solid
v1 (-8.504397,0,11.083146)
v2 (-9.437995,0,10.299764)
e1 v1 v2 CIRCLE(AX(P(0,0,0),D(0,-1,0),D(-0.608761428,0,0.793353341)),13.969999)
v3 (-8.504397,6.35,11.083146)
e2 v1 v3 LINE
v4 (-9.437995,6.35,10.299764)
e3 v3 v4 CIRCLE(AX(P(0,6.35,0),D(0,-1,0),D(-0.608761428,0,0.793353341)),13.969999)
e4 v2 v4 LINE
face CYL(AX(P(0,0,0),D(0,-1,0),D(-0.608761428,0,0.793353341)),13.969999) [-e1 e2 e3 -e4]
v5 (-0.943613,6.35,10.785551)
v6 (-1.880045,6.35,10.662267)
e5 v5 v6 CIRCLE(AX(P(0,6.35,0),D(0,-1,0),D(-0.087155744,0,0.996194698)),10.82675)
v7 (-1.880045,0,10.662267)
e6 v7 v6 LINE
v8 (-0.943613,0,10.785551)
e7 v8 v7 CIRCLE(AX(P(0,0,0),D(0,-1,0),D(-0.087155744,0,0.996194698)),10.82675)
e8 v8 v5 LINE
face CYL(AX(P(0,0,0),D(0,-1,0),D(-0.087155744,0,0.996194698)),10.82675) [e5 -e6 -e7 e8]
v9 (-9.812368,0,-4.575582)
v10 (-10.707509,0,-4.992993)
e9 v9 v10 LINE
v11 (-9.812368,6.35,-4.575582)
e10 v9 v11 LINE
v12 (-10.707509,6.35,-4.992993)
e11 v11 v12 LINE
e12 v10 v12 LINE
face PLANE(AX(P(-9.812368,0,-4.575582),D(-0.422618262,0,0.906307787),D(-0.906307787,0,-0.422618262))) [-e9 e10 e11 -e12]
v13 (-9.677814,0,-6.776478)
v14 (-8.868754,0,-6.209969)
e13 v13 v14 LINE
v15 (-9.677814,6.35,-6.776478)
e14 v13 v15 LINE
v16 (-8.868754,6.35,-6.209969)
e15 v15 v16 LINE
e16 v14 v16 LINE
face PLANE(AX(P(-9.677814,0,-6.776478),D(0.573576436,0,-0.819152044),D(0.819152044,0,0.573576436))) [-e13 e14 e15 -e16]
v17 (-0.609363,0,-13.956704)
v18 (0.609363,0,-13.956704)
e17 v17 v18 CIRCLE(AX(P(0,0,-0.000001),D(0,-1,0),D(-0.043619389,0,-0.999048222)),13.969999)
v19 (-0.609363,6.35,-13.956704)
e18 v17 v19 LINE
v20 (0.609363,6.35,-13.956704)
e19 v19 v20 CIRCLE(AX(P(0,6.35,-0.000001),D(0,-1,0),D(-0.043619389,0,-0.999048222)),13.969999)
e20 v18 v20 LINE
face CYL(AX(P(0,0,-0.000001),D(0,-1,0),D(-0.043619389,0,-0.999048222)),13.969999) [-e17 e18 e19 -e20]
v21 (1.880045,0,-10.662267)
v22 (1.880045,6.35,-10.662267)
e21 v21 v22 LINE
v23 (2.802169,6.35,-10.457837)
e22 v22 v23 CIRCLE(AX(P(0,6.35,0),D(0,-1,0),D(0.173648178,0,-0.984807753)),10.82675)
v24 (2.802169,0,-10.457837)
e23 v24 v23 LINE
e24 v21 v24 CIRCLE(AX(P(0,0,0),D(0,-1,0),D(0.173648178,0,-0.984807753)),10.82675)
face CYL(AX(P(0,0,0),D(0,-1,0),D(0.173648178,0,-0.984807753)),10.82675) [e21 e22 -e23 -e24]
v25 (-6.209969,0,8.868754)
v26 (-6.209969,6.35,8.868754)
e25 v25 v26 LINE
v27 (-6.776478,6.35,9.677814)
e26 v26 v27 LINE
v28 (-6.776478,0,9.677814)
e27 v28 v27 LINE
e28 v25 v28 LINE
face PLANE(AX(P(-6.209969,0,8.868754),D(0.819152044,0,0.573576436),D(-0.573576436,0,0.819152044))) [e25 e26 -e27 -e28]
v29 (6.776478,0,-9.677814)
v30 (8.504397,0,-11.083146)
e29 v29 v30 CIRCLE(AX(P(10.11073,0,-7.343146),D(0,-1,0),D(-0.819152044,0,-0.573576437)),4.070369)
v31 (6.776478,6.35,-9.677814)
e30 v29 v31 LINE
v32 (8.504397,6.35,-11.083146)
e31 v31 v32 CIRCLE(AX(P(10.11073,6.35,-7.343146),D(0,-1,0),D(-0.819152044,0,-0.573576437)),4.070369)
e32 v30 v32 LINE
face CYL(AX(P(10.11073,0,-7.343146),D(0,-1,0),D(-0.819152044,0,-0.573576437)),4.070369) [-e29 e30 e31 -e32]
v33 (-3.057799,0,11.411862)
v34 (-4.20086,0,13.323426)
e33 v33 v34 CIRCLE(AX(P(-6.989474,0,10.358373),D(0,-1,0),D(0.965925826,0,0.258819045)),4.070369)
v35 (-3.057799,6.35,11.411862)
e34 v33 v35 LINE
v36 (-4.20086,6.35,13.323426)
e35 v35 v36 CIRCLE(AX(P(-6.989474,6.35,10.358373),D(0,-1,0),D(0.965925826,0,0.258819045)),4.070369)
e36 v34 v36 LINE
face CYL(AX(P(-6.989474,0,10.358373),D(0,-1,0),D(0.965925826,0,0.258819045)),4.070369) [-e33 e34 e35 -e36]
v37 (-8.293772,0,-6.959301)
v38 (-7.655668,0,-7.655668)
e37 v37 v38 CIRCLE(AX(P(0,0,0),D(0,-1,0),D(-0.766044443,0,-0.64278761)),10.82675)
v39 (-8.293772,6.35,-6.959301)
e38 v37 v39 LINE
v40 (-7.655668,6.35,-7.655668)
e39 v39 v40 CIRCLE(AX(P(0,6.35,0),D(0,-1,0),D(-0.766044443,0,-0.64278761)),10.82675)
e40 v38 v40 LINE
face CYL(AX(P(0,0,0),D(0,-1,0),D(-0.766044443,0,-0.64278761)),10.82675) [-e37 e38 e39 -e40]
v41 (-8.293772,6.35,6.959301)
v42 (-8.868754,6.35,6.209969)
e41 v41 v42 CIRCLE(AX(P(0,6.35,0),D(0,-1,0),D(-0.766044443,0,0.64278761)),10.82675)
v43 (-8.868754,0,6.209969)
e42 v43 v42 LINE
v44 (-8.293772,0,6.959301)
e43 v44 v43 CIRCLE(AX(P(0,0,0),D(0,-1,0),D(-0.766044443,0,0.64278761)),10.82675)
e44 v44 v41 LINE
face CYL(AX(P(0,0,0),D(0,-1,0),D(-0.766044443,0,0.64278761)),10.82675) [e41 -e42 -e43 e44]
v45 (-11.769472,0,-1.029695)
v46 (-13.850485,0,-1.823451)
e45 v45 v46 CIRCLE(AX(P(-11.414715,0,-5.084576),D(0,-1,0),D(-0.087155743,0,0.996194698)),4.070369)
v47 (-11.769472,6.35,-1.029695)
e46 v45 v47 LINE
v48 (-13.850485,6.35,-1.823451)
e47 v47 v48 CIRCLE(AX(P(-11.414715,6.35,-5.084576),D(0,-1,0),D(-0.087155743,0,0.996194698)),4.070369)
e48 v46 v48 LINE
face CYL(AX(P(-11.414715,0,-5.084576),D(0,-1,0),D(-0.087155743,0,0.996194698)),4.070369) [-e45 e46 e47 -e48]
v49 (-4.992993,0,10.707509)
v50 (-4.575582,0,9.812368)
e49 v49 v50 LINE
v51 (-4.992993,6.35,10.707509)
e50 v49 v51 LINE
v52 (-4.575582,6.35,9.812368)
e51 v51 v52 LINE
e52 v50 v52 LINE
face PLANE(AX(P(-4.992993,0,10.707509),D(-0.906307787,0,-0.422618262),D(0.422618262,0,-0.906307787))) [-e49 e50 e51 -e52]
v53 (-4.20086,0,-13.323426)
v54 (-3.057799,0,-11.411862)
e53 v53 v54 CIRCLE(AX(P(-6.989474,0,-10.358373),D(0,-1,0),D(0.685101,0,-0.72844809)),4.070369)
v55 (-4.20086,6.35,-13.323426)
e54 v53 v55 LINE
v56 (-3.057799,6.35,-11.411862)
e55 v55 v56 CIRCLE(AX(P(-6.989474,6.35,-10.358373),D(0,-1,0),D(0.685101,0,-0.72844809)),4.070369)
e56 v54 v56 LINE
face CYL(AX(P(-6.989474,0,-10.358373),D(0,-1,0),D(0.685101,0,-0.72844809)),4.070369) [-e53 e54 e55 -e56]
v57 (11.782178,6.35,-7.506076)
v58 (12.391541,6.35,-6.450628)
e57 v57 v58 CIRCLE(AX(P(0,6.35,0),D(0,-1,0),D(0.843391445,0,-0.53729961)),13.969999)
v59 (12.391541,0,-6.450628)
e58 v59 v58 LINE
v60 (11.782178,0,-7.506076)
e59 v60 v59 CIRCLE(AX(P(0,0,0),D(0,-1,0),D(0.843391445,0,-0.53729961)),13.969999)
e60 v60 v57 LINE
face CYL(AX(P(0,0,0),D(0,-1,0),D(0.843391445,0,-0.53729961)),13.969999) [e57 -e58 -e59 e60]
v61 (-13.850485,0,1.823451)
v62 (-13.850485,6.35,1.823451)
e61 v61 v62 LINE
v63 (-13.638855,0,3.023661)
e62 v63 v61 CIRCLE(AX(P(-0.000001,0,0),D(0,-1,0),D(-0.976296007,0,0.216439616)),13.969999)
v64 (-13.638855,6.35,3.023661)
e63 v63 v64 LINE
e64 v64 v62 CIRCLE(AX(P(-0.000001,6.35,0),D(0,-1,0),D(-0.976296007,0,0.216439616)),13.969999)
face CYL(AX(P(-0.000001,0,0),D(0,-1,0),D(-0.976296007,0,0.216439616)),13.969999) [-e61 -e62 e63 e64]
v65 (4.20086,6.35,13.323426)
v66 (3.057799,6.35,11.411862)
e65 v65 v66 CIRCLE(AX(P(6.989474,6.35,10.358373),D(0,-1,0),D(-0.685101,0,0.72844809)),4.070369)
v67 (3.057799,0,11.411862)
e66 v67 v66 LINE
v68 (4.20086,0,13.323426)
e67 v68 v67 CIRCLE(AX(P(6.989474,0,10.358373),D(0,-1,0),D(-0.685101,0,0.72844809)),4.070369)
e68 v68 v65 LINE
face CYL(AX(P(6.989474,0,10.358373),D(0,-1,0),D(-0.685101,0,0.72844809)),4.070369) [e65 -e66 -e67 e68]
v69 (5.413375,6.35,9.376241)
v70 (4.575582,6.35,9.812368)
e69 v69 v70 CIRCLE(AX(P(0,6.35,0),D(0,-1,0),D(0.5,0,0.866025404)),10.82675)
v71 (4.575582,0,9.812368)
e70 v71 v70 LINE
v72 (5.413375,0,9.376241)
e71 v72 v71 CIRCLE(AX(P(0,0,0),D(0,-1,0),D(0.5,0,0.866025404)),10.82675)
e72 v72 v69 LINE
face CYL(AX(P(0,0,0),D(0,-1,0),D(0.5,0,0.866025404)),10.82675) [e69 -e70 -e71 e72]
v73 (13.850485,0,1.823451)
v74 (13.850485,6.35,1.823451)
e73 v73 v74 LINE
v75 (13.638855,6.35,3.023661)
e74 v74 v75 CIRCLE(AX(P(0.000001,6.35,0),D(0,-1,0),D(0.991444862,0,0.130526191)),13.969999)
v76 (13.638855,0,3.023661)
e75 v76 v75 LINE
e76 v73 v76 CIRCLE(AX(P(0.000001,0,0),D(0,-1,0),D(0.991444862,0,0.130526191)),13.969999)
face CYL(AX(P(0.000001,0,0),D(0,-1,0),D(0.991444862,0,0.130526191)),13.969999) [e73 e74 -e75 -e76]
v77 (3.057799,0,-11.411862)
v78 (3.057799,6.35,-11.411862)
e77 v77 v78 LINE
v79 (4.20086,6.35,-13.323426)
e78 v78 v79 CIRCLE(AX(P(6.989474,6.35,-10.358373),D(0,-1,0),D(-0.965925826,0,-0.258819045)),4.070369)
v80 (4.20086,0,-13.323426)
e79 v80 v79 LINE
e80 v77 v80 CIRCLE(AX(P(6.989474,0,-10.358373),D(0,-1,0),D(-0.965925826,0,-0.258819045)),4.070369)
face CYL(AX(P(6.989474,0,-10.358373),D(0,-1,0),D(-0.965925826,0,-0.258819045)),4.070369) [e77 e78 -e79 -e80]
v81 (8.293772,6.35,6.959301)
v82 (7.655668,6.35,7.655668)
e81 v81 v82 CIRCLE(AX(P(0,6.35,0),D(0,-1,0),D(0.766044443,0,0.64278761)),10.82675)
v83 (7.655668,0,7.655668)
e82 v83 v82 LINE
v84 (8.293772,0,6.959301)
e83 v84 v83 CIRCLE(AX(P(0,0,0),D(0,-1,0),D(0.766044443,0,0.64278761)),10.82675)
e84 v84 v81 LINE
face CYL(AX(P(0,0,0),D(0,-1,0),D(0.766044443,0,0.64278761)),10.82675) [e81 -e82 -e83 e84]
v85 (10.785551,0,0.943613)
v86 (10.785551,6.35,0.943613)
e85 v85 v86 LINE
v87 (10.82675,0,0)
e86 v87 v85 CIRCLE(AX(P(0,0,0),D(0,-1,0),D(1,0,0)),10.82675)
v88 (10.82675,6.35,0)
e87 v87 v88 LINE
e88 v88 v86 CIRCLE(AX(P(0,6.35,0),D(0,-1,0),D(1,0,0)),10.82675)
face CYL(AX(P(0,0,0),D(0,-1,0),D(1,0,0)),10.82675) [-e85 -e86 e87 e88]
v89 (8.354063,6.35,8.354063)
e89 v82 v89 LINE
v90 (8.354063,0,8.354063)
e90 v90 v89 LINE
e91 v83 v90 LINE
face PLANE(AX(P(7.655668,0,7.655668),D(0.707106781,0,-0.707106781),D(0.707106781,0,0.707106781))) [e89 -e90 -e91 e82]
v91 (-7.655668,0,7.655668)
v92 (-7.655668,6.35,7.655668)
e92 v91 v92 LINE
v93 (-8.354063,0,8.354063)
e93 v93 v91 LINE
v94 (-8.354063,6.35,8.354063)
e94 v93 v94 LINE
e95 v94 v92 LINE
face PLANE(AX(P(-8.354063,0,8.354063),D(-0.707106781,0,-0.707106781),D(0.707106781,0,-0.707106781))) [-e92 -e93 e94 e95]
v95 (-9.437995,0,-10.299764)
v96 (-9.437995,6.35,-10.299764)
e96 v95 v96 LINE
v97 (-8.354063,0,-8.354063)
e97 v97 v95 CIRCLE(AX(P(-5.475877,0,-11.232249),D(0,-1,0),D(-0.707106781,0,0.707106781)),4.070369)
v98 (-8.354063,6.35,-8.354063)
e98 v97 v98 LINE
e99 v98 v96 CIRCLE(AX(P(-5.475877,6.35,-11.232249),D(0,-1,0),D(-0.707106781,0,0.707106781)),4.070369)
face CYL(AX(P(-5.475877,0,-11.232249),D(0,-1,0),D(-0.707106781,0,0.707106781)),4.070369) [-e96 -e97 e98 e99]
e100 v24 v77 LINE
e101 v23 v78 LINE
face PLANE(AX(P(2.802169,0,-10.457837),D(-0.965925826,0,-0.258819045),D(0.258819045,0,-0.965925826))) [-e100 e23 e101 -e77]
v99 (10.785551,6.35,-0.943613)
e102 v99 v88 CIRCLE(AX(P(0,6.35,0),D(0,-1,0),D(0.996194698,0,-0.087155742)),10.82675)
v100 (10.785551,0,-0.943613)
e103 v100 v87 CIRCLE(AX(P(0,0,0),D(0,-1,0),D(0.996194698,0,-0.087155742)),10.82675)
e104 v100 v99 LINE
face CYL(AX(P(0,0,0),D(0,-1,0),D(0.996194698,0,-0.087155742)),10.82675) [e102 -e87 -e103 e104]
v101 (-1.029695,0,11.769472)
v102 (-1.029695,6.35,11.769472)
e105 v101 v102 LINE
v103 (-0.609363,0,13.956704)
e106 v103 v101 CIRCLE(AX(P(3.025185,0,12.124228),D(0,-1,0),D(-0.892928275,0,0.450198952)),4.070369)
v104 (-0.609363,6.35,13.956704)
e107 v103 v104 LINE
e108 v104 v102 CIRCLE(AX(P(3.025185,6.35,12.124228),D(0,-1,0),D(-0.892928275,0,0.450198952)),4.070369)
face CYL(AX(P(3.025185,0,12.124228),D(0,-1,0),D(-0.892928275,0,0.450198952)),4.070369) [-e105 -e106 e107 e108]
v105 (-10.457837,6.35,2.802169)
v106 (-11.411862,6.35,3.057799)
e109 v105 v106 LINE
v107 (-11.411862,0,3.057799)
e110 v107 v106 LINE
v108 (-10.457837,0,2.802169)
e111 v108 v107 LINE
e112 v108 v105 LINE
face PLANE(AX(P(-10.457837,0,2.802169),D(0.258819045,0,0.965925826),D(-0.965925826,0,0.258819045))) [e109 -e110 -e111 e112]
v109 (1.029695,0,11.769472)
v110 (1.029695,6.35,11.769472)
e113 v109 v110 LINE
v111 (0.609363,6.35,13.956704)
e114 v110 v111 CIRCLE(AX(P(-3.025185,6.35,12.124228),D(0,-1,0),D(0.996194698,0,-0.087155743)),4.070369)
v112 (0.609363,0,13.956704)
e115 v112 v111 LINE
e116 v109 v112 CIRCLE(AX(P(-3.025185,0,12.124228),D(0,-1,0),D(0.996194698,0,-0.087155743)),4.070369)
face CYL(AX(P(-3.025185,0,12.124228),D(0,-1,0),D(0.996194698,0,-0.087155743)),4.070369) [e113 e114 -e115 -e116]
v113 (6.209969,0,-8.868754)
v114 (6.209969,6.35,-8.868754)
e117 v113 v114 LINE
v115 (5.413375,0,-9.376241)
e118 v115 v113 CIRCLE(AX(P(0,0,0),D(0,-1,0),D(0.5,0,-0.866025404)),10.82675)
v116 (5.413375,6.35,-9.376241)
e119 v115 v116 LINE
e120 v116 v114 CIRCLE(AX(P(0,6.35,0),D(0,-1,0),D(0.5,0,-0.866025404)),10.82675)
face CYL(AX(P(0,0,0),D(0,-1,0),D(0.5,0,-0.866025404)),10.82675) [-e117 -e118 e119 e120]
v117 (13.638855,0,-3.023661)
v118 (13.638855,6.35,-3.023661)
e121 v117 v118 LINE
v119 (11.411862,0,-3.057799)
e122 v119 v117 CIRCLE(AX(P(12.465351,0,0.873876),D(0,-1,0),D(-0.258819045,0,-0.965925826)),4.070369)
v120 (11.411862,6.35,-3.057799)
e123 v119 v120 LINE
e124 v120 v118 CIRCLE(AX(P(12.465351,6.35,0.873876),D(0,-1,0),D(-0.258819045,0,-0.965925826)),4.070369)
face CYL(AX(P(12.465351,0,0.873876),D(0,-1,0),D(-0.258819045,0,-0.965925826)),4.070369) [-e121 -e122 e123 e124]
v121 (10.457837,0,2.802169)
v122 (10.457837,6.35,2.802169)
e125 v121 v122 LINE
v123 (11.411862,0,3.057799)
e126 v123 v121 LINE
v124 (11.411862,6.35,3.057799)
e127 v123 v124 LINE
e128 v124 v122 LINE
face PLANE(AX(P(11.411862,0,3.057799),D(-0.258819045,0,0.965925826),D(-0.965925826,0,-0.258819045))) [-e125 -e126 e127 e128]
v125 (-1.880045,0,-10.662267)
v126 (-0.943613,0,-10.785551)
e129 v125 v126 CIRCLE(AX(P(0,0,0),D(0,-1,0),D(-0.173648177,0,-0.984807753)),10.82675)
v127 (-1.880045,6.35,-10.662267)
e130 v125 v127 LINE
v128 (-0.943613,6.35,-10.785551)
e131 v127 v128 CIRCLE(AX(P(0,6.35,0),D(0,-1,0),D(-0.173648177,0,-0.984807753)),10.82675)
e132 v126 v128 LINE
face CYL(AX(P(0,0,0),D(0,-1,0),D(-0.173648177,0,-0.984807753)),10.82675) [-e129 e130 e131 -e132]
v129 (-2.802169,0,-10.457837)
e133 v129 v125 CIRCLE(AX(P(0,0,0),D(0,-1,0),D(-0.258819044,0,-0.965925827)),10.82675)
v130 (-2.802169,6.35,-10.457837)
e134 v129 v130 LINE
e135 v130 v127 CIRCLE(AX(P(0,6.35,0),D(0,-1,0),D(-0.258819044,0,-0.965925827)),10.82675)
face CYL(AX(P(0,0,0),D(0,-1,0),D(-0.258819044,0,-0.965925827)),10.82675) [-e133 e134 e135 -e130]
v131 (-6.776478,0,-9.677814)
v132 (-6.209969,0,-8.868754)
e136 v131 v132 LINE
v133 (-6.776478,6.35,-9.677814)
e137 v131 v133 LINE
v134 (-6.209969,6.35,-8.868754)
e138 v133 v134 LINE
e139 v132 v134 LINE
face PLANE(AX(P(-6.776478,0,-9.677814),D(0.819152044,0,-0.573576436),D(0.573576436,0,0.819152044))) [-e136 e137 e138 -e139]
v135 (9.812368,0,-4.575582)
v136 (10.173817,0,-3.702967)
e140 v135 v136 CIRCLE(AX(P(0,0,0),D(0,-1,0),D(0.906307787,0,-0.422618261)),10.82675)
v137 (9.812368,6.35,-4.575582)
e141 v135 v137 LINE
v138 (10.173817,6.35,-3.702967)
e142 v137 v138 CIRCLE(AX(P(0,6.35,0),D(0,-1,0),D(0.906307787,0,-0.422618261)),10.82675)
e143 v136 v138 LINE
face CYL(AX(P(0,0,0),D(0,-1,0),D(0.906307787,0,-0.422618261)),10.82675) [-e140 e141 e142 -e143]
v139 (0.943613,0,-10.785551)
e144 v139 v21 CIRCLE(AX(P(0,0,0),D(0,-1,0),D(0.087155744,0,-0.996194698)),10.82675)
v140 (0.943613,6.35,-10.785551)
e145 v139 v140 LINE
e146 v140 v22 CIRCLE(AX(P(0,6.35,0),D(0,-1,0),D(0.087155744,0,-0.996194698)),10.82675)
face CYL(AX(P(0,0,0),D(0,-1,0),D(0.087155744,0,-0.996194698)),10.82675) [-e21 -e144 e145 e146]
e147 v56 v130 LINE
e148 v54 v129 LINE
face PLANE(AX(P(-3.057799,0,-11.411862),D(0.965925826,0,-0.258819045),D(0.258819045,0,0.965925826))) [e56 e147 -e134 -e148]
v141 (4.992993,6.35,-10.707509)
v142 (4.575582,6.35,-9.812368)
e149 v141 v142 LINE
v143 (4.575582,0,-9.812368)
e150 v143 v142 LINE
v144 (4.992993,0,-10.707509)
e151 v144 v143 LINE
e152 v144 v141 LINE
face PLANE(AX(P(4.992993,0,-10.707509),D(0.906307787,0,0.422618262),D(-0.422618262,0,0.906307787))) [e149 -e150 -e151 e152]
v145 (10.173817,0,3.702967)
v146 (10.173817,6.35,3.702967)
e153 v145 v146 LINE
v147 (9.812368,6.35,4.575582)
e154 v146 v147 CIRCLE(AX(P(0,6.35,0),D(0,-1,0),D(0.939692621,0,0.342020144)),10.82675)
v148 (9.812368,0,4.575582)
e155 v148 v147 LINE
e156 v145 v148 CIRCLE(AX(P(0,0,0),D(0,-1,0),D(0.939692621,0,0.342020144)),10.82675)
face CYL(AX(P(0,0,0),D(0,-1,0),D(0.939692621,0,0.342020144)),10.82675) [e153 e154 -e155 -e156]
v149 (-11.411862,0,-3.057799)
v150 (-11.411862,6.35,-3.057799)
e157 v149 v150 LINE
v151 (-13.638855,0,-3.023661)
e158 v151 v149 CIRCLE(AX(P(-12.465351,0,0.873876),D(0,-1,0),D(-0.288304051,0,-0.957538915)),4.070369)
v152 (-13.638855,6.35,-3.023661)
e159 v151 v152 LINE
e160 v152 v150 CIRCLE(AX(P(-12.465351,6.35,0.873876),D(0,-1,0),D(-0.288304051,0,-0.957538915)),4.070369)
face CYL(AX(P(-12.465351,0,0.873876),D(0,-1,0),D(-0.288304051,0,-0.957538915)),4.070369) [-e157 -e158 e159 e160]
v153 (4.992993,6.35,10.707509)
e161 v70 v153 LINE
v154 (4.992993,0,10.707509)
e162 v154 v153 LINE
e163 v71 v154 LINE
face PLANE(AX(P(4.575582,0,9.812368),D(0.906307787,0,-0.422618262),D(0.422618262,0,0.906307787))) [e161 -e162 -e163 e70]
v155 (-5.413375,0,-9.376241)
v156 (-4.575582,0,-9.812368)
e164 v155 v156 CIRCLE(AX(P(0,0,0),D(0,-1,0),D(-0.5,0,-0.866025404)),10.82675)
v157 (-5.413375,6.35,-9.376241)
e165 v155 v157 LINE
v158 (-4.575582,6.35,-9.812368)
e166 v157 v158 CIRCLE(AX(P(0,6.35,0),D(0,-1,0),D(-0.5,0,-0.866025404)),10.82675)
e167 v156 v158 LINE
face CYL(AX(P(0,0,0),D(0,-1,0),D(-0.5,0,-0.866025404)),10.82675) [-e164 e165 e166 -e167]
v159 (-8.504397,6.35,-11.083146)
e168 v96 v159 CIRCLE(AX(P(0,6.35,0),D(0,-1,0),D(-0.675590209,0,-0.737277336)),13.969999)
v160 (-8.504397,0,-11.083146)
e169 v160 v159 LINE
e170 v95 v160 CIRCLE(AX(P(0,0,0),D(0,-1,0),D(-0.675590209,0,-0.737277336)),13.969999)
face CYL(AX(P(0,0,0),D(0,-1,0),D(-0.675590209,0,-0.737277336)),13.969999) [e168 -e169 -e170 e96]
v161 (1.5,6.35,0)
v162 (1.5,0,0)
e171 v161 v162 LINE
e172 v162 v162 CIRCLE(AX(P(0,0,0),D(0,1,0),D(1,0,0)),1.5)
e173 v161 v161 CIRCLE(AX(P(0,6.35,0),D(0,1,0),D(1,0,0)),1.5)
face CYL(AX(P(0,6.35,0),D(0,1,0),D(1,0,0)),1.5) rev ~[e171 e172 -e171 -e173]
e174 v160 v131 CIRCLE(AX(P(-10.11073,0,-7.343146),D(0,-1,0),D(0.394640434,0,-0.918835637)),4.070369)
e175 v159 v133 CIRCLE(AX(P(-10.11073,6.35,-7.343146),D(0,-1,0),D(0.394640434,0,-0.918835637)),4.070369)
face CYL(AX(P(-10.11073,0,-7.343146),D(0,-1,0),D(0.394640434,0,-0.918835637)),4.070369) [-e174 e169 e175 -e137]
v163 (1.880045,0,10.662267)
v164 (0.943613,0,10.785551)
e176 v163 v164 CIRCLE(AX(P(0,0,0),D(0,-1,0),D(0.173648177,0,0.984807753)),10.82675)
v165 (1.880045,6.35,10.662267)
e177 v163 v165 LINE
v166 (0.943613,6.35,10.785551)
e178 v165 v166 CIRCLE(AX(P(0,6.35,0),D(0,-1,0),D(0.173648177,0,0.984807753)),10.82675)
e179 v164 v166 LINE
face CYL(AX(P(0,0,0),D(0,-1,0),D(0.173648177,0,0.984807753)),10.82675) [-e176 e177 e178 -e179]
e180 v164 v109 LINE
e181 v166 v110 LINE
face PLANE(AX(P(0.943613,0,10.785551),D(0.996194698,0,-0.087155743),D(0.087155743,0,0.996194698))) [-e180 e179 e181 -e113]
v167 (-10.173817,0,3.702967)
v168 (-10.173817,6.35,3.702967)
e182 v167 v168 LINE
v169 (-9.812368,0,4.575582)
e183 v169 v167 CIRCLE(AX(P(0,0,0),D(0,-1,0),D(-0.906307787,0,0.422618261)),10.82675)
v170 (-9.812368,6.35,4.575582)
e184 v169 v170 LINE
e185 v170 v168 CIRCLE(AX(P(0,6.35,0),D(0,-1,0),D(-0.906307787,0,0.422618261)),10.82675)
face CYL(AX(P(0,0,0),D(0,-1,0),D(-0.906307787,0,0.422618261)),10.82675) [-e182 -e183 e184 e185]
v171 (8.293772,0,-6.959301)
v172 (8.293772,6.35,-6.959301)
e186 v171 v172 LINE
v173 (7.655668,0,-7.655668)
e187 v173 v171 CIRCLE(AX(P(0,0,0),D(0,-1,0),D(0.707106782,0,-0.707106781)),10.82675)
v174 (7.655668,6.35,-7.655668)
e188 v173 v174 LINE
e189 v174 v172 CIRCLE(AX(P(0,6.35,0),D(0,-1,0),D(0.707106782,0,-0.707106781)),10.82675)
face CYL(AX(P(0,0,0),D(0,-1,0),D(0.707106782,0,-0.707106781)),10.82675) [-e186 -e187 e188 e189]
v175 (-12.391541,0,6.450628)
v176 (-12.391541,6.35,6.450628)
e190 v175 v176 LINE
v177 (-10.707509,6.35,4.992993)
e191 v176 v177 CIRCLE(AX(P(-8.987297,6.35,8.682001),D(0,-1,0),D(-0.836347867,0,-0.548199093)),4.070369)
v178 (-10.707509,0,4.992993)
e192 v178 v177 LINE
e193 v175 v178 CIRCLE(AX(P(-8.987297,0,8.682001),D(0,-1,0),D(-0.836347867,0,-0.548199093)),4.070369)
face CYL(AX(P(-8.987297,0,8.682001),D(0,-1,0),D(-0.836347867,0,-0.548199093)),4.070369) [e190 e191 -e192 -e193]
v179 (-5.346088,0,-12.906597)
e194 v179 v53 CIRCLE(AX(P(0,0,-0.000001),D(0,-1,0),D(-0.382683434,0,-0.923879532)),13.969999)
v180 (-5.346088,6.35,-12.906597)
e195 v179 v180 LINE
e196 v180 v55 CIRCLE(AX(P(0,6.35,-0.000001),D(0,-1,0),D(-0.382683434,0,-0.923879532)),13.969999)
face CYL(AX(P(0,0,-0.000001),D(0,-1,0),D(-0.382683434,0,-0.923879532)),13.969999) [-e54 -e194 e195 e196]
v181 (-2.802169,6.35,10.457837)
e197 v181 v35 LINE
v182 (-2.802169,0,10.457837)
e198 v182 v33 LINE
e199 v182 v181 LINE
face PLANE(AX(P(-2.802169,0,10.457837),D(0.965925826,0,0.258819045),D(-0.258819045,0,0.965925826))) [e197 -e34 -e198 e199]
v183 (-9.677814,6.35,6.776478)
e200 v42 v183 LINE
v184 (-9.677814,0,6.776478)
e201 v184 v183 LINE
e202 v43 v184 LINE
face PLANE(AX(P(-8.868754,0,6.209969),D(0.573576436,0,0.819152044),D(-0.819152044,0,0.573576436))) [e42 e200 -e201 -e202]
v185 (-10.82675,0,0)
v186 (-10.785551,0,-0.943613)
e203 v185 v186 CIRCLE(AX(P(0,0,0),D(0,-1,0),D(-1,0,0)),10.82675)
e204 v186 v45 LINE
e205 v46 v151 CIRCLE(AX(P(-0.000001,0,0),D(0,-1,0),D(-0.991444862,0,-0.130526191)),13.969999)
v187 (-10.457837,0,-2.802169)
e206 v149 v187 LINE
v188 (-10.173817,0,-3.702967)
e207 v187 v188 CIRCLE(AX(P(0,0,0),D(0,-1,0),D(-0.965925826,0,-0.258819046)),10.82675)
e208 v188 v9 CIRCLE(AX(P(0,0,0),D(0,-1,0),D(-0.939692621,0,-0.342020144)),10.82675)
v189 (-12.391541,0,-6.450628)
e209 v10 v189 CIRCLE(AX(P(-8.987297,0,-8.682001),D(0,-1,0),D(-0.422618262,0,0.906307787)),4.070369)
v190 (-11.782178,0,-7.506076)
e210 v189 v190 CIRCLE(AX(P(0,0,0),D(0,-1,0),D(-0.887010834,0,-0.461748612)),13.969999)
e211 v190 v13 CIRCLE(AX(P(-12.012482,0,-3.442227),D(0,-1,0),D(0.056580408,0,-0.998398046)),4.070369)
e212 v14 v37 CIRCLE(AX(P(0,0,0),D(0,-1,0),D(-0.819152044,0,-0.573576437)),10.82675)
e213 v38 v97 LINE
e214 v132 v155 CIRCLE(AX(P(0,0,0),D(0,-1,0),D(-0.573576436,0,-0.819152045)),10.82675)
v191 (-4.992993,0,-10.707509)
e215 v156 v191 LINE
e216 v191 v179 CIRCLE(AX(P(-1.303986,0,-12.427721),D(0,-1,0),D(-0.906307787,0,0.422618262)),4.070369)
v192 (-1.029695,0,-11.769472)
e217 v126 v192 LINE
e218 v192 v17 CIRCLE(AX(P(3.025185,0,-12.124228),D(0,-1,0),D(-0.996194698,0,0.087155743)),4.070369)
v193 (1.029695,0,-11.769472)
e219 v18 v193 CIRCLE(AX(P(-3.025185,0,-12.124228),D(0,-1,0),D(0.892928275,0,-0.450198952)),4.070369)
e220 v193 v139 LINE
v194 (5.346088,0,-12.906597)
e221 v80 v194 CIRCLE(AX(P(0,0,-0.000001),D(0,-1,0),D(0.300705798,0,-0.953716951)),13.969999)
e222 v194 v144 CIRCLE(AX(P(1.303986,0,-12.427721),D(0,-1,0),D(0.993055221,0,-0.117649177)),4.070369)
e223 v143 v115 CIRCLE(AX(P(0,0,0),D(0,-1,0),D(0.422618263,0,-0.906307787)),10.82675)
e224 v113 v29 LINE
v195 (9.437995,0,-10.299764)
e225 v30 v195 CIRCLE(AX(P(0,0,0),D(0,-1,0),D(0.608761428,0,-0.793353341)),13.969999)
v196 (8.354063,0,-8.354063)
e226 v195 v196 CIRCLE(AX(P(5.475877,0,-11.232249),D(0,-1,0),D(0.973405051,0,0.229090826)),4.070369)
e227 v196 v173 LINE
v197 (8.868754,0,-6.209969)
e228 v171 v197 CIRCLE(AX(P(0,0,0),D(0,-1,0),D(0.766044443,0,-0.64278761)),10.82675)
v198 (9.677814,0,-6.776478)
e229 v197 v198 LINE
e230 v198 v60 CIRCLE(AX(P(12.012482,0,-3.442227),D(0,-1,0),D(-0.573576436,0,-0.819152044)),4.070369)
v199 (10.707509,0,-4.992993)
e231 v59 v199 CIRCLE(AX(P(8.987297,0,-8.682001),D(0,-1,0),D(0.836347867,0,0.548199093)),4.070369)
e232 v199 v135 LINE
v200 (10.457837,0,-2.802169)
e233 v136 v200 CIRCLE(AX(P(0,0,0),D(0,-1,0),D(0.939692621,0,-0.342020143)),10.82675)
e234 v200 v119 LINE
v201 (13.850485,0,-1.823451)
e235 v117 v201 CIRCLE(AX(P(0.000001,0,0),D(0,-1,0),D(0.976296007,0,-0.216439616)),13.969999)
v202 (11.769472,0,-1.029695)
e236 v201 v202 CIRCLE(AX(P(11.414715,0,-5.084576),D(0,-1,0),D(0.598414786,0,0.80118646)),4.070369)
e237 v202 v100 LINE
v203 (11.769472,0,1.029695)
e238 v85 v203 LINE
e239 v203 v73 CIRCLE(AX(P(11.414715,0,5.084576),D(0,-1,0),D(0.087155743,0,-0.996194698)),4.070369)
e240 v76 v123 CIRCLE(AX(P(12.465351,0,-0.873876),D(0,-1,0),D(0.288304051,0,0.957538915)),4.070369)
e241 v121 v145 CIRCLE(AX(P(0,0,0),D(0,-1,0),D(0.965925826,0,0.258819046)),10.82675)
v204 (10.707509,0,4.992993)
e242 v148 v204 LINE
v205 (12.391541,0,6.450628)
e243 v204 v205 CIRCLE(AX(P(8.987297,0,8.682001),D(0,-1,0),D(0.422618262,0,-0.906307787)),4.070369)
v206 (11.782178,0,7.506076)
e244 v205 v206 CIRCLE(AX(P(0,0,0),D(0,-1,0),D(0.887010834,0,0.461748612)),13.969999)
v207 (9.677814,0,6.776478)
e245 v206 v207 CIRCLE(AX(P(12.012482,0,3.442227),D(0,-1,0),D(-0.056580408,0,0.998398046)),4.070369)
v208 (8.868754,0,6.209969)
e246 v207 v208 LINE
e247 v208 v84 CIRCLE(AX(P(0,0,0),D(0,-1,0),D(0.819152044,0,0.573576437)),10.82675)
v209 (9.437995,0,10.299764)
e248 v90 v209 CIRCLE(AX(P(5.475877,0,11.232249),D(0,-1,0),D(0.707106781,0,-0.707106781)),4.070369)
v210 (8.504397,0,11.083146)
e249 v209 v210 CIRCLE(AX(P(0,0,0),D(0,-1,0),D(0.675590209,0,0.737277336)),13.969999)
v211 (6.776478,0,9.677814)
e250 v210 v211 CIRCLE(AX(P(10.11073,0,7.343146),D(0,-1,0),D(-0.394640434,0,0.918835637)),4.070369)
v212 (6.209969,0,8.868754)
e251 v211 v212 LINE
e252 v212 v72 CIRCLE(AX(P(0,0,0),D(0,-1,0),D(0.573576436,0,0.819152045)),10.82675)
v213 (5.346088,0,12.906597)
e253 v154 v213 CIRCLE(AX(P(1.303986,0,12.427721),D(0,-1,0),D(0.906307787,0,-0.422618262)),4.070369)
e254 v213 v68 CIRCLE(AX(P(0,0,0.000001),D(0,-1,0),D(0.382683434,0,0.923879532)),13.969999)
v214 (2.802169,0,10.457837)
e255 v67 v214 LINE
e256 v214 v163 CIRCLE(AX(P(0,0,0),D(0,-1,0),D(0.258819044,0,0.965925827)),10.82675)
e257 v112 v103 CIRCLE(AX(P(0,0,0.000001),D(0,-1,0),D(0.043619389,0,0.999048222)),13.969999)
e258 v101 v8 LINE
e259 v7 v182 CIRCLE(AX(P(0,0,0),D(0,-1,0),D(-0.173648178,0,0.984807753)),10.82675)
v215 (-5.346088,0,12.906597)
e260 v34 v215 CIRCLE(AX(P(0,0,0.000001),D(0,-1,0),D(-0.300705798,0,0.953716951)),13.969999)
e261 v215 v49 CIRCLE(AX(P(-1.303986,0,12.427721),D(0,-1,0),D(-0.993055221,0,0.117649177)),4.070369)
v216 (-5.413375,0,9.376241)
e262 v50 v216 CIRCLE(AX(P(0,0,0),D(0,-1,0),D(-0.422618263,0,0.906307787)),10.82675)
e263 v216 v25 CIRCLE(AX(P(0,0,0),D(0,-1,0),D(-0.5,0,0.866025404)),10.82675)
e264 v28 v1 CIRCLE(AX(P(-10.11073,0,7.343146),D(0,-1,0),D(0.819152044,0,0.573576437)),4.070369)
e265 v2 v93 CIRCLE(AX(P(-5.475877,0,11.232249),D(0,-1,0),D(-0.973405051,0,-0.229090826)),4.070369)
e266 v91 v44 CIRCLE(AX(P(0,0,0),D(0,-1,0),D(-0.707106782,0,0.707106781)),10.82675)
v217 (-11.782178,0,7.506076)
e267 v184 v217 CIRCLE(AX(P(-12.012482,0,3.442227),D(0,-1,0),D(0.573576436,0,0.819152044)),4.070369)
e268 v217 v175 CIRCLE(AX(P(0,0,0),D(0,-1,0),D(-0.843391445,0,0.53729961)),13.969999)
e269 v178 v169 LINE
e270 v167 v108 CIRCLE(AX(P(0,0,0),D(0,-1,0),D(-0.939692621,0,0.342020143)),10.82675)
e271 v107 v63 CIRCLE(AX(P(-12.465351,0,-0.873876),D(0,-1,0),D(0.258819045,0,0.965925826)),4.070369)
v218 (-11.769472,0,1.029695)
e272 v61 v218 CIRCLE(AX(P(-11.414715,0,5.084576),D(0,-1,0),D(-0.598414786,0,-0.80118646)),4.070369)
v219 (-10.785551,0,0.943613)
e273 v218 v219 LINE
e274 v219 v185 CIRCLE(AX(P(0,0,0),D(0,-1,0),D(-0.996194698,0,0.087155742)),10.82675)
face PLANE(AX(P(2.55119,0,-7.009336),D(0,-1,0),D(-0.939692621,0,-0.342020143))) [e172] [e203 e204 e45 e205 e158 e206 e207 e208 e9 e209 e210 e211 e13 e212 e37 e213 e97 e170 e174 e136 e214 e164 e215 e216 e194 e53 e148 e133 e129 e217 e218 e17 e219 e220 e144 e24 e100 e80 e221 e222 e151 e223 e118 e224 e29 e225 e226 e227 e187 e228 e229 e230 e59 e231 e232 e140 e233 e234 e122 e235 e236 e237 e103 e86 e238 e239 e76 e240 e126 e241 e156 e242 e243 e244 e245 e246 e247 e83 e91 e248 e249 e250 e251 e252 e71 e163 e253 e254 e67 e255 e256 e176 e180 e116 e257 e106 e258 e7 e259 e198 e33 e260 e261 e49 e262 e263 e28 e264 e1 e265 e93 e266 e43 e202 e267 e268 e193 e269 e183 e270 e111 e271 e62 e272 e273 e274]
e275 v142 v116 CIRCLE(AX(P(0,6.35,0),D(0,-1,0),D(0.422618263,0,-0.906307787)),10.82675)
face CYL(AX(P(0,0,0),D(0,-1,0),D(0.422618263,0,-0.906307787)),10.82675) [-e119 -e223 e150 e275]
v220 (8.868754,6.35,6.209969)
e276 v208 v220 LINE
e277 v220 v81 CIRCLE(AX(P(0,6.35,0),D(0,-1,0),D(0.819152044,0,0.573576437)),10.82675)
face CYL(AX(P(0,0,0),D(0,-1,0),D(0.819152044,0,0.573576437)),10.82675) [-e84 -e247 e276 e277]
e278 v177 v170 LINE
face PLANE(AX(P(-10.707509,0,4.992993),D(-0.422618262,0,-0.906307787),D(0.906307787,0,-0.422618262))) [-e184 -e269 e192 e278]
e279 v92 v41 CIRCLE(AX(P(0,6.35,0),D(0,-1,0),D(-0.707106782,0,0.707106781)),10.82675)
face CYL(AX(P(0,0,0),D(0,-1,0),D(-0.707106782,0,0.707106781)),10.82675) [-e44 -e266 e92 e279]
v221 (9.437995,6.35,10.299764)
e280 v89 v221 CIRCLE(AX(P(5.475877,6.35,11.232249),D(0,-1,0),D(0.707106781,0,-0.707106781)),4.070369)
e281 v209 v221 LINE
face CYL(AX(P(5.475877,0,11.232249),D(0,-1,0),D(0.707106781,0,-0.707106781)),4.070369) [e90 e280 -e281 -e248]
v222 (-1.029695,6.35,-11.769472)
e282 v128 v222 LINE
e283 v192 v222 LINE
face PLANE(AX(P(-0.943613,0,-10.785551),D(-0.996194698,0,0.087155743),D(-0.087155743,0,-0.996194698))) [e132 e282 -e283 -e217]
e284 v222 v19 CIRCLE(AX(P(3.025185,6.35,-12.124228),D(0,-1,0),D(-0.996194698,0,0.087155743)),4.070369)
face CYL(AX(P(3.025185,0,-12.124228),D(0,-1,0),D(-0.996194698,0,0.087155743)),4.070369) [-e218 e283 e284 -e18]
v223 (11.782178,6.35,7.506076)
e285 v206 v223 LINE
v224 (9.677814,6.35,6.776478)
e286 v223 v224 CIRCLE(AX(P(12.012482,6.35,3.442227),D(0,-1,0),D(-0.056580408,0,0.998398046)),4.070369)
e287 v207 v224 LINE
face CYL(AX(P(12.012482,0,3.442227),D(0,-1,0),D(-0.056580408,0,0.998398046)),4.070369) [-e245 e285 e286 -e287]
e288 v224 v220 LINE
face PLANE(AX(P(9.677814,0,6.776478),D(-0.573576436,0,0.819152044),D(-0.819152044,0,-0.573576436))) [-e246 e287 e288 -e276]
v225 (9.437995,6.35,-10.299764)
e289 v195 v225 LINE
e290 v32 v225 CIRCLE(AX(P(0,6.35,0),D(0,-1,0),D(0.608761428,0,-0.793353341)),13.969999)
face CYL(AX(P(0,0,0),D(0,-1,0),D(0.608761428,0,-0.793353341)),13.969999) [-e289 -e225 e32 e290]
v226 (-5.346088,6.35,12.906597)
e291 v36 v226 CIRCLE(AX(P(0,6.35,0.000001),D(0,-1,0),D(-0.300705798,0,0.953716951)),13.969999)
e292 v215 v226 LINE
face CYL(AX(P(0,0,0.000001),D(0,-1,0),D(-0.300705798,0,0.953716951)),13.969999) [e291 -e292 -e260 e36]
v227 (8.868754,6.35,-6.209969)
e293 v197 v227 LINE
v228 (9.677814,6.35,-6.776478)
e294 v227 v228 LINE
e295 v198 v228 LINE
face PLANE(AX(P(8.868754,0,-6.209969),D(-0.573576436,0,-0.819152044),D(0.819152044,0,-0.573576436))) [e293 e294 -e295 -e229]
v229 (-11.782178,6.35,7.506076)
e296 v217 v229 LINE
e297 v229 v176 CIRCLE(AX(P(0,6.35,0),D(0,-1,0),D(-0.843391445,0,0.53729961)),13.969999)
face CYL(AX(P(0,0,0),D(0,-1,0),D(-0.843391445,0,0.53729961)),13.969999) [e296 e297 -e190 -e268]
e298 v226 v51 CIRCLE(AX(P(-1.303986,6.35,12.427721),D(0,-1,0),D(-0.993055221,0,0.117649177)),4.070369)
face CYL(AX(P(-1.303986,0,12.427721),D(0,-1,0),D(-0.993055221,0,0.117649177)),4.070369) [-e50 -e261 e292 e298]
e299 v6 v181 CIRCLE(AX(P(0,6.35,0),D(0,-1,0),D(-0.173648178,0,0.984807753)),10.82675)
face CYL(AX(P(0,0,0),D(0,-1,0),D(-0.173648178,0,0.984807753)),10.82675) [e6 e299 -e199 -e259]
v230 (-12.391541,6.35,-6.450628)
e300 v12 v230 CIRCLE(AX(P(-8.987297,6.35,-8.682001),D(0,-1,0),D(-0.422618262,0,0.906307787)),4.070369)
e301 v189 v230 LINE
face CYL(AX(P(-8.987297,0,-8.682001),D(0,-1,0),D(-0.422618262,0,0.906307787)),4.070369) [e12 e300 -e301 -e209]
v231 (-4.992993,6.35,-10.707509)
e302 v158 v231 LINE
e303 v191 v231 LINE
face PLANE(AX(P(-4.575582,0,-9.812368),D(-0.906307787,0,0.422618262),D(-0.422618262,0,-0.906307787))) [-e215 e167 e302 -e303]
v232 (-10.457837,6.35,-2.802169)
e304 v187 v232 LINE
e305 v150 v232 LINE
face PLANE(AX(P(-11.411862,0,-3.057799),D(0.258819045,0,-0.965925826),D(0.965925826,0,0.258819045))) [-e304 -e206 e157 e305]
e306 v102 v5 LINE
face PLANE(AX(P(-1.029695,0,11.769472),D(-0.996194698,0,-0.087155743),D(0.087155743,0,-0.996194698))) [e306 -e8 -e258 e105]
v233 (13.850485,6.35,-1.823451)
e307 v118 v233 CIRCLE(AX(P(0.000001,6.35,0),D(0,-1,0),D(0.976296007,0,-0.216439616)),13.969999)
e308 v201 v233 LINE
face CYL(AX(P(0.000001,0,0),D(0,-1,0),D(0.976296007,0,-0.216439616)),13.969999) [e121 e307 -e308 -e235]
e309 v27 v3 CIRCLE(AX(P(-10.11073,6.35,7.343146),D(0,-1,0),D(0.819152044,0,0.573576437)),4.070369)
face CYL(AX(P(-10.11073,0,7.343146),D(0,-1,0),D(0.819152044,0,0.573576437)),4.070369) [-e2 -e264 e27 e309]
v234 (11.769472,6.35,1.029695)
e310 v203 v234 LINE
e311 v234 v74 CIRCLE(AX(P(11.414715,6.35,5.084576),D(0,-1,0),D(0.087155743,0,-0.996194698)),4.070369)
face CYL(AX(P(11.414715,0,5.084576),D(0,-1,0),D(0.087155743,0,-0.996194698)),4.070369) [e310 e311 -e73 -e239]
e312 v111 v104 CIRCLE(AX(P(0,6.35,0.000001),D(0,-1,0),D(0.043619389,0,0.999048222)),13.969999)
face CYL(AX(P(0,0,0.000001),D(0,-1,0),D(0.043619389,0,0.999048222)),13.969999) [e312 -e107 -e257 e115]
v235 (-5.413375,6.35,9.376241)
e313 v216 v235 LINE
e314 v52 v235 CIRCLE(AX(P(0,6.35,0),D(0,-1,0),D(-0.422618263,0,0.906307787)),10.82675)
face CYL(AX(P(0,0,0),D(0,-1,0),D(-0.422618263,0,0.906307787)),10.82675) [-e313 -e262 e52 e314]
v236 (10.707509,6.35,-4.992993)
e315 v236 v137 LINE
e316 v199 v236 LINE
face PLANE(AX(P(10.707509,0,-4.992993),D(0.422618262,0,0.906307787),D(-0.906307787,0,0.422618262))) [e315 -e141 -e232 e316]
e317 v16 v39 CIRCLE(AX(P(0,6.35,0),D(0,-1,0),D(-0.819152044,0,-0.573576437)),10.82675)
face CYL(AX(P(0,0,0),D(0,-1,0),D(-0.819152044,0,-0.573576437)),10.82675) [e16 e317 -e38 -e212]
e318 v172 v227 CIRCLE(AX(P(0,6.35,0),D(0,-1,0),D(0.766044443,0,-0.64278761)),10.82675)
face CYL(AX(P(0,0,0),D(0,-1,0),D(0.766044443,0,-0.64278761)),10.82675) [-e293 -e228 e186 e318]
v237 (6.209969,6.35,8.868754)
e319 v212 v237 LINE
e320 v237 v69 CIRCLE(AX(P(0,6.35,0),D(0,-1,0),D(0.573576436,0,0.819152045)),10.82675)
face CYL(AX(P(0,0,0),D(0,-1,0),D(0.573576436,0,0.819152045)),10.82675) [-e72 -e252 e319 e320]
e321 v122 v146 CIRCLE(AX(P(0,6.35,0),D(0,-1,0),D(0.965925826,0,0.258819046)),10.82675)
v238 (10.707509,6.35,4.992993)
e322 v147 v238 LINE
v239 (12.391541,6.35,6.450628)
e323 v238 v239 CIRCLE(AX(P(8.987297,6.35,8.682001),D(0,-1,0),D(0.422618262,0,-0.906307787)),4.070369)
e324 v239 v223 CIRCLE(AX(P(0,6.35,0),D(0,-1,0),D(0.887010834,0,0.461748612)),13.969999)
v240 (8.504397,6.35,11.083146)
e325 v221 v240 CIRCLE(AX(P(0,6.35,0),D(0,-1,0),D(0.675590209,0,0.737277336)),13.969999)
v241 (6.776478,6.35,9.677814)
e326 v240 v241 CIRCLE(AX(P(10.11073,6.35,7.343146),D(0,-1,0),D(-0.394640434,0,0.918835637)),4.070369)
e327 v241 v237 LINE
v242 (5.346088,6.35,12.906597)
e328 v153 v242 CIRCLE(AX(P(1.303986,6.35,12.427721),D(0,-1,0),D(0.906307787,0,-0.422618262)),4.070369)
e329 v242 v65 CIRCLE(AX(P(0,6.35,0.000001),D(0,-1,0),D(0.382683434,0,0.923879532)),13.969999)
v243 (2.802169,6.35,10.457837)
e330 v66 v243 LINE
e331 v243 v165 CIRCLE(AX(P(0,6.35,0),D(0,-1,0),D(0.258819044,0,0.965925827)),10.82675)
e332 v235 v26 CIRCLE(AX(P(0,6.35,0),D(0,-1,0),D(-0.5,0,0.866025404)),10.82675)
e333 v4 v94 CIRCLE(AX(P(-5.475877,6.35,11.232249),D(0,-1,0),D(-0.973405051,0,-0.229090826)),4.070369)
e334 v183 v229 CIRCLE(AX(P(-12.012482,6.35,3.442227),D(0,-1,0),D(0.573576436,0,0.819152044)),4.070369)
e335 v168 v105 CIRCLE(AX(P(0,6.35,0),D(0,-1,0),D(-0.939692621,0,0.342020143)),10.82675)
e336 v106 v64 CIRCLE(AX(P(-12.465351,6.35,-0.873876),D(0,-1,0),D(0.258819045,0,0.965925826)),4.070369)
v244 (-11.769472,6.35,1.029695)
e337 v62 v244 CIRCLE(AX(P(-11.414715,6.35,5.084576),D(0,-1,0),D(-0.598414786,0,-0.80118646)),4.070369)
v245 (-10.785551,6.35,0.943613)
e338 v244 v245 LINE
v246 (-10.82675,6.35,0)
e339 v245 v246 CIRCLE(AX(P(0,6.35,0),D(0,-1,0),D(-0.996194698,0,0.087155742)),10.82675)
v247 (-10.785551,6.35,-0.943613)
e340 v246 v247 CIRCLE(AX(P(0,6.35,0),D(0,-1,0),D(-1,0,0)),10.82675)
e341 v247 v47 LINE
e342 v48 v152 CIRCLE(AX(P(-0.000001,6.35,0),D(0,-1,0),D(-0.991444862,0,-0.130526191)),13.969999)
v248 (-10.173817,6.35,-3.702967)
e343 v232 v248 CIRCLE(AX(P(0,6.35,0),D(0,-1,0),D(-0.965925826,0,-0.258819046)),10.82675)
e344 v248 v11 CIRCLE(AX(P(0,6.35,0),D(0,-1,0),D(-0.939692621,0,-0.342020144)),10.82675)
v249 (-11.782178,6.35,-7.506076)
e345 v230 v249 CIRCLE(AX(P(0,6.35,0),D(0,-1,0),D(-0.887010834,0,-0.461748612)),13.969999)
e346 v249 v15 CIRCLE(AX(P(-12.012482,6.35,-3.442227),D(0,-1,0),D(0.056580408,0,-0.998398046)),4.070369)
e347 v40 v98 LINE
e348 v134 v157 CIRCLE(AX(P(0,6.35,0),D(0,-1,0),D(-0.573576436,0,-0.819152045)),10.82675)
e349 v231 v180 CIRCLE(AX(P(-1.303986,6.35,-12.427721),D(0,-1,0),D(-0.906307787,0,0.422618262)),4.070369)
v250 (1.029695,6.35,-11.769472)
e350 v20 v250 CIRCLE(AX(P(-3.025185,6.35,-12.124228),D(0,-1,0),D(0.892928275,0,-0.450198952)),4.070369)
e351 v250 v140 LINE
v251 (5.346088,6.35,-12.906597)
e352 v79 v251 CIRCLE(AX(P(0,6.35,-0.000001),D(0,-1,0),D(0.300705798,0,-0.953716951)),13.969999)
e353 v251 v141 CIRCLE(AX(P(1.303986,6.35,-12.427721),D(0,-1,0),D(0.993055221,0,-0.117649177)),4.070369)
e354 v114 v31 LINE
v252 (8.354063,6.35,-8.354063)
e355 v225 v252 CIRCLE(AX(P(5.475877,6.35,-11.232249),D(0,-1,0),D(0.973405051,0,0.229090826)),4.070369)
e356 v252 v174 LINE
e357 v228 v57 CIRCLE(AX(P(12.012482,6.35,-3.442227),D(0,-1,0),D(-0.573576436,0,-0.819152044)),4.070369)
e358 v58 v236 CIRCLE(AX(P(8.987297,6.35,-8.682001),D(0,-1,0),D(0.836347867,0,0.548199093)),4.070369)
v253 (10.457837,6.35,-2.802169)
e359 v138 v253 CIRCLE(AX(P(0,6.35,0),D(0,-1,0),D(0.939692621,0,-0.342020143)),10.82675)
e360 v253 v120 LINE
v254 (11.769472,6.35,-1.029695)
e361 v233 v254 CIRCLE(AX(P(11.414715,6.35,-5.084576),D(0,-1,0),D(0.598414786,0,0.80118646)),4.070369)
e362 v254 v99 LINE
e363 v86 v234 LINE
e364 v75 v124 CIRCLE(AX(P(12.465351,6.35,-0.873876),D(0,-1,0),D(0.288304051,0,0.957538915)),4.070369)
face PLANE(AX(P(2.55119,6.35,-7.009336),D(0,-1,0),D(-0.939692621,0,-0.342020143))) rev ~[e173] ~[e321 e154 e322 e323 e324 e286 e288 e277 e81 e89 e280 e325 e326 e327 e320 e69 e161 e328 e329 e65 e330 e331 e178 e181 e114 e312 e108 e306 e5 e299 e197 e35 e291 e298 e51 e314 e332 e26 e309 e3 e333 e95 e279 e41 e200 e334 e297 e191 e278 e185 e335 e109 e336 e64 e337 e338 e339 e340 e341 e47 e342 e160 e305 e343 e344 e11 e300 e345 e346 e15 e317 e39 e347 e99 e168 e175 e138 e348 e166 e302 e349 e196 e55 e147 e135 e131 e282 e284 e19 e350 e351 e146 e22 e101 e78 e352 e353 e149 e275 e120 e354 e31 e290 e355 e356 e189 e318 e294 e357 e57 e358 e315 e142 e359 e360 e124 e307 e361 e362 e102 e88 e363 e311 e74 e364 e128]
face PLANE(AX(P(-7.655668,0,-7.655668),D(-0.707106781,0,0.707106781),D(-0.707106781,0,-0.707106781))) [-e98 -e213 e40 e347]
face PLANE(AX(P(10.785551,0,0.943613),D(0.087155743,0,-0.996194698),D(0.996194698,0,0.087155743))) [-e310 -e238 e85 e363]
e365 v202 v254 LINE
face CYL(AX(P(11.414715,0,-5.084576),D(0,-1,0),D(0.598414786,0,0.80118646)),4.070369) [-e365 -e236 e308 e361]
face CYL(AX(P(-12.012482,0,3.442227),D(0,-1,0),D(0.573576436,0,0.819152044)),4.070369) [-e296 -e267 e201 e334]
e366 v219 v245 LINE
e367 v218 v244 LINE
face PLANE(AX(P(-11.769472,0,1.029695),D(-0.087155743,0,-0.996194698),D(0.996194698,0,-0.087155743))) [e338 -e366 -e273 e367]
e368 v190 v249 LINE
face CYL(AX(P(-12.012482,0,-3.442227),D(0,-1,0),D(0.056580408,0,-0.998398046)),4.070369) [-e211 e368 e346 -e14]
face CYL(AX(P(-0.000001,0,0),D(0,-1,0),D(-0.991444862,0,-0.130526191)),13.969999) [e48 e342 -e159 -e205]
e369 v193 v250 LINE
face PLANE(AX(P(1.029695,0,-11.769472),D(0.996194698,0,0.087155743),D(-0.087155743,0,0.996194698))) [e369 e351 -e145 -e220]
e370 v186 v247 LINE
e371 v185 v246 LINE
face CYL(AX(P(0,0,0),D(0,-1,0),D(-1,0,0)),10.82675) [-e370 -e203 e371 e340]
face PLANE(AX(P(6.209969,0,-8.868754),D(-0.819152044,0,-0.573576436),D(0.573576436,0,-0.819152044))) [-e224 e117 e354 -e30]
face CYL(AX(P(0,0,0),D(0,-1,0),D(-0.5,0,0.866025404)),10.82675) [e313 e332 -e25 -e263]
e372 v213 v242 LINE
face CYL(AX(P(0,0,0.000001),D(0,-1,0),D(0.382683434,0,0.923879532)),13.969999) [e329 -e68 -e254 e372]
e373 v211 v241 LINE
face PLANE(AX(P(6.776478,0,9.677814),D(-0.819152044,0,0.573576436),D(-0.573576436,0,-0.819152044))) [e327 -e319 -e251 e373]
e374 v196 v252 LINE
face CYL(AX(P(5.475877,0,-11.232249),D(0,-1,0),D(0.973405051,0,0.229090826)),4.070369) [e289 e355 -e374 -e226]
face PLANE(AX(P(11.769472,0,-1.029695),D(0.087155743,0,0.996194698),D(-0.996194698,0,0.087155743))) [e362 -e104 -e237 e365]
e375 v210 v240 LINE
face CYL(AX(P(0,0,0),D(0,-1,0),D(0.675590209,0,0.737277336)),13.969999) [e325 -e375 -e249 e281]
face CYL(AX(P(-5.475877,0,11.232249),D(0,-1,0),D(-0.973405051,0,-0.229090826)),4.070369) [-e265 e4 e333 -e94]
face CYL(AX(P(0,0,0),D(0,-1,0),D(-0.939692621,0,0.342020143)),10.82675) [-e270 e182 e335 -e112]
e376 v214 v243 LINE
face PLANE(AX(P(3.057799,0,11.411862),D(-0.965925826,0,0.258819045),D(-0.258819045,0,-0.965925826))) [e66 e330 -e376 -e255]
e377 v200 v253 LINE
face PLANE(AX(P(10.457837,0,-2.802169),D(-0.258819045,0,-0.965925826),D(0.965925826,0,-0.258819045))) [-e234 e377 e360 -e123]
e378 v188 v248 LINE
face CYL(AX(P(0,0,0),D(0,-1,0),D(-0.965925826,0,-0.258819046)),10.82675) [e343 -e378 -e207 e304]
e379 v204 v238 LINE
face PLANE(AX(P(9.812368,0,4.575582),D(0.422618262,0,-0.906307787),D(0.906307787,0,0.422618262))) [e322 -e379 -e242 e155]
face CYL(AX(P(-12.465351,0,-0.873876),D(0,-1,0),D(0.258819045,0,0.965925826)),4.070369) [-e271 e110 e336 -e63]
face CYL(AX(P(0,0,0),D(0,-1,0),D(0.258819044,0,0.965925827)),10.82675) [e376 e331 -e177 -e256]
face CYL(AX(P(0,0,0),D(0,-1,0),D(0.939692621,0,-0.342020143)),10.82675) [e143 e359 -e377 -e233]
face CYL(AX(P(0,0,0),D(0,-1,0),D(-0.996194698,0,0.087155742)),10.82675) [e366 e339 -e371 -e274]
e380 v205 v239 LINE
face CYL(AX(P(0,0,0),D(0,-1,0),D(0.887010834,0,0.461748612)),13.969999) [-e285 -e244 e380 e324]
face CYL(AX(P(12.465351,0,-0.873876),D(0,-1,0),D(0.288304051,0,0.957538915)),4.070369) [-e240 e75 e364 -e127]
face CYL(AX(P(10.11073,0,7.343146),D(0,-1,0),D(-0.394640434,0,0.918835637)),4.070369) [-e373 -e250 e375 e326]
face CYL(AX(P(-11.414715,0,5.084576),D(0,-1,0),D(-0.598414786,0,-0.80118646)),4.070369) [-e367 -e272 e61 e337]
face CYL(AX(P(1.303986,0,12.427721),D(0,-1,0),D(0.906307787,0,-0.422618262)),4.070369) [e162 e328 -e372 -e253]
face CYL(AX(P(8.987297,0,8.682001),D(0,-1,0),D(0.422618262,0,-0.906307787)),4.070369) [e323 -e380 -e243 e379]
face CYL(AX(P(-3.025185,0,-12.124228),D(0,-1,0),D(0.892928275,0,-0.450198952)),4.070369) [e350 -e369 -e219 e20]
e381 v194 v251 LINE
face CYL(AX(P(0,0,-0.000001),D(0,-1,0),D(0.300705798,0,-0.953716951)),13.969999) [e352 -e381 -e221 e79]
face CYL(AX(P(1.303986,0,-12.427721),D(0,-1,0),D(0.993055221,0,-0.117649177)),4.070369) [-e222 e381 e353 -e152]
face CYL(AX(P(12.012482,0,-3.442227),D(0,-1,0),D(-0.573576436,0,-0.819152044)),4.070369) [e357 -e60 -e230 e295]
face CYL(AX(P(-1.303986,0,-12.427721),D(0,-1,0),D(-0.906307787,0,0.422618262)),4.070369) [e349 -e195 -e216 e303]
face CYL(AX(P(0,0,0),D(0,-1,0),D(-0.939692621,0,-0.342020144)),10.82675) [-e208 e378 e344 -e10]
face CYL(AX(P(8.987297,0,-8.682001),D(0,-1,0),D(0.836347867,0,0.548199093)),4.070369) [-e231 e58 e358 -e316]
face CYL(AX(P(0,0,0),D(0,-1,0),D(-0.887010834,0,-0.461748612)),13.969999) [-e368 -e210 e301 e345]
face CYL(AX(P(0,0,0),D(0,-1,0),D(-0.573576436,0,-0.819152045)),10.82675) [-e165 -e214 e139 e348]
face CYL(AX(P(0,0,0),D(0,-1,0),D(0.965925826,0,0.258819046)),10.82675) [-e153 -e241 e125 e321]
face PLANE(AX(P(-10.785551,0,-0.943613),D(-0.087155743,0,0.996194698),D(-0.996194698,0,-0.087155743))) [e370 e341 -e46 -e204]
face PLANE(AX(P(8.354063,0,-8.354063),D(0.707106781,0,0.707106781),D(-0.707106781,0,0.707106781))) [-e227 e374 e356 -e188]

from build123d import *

# Parameters (mm, degrees)
BOSS_EXTRUDE1_DEPTH = 6.35
CIRPATTERN1_COUNT   = 18
SKETCH2_R           = 1.5
CUT_EXTRUDE1_DEPTH  = 6.35


with BuildPart() as part:
    # Sketch1 → Boss-Extrude1 (new body)
    with BuildSketch(Plane(origin=(0, 0, 0), x_dir=(1, 0, 0), z_dir=(0, 1, 0))):
        with BuildLine():
            Line((0, 0), (-1.880045408, 10.66226734))
            ThreePointArc((-1.880045408, 10.66226734), (-1.413174452, 10.734125653), (-0.943613438, 10.785550948))
            Line((-0.943613438, 10.785550948), (-1.029695335, 11.769471531))
            ThreePointArc((-1.029695335, 11.769471531), (-0.972041848, 12.892396814), (-0.609362841, 13.956703655))
            ThreePointArc((-0.609362841, 13.956703655), (0, 13.97), (0.609362841, 13.956703655))
            ThreePointArc((0.609362841, 13.956703655), (0.972041848, 12.892396814), (1.029695335, 11.769471531))
            Line((1.029695335, 11.769471531), (0.943613438, 10.785550948))
            ThreePointArc((0.943613438, 10.785550948), (1.413174452, 10.734125653), (1.880045408, 10.66226734))
            Line((1.880045408, 10.66226734), (0, 0))
        make_face()
    boss_extrude1 = extrude(amount=BOSS_EXTRUDE1_DEPTH)

    # CirPattern1: Boss-Extrude1 ×18 about axis
    cirpattern1_axis = Axis((0, 0, 0), (0, 1, 0))
    for i in range(1, CIRPATTERN1_COUNT):
        add(boss_extrude1.rotate(cirpattern1_axis, i * 360 / CIRPATTERN1_COUNT))

    # Sketch2 → Cut-Extrude1 (cut)
    with BuildSketch(Plane(origin=(0, 6.35, 0), x_dir=(1, 0, 0), z_dir=(0, 1, 0))):
        Circle(SKETCH2_R)
    extrude(amount=-CUT_EXTRUDE1_DEPTH, mode=Mode.SUBTRACT)


solid = part.part
